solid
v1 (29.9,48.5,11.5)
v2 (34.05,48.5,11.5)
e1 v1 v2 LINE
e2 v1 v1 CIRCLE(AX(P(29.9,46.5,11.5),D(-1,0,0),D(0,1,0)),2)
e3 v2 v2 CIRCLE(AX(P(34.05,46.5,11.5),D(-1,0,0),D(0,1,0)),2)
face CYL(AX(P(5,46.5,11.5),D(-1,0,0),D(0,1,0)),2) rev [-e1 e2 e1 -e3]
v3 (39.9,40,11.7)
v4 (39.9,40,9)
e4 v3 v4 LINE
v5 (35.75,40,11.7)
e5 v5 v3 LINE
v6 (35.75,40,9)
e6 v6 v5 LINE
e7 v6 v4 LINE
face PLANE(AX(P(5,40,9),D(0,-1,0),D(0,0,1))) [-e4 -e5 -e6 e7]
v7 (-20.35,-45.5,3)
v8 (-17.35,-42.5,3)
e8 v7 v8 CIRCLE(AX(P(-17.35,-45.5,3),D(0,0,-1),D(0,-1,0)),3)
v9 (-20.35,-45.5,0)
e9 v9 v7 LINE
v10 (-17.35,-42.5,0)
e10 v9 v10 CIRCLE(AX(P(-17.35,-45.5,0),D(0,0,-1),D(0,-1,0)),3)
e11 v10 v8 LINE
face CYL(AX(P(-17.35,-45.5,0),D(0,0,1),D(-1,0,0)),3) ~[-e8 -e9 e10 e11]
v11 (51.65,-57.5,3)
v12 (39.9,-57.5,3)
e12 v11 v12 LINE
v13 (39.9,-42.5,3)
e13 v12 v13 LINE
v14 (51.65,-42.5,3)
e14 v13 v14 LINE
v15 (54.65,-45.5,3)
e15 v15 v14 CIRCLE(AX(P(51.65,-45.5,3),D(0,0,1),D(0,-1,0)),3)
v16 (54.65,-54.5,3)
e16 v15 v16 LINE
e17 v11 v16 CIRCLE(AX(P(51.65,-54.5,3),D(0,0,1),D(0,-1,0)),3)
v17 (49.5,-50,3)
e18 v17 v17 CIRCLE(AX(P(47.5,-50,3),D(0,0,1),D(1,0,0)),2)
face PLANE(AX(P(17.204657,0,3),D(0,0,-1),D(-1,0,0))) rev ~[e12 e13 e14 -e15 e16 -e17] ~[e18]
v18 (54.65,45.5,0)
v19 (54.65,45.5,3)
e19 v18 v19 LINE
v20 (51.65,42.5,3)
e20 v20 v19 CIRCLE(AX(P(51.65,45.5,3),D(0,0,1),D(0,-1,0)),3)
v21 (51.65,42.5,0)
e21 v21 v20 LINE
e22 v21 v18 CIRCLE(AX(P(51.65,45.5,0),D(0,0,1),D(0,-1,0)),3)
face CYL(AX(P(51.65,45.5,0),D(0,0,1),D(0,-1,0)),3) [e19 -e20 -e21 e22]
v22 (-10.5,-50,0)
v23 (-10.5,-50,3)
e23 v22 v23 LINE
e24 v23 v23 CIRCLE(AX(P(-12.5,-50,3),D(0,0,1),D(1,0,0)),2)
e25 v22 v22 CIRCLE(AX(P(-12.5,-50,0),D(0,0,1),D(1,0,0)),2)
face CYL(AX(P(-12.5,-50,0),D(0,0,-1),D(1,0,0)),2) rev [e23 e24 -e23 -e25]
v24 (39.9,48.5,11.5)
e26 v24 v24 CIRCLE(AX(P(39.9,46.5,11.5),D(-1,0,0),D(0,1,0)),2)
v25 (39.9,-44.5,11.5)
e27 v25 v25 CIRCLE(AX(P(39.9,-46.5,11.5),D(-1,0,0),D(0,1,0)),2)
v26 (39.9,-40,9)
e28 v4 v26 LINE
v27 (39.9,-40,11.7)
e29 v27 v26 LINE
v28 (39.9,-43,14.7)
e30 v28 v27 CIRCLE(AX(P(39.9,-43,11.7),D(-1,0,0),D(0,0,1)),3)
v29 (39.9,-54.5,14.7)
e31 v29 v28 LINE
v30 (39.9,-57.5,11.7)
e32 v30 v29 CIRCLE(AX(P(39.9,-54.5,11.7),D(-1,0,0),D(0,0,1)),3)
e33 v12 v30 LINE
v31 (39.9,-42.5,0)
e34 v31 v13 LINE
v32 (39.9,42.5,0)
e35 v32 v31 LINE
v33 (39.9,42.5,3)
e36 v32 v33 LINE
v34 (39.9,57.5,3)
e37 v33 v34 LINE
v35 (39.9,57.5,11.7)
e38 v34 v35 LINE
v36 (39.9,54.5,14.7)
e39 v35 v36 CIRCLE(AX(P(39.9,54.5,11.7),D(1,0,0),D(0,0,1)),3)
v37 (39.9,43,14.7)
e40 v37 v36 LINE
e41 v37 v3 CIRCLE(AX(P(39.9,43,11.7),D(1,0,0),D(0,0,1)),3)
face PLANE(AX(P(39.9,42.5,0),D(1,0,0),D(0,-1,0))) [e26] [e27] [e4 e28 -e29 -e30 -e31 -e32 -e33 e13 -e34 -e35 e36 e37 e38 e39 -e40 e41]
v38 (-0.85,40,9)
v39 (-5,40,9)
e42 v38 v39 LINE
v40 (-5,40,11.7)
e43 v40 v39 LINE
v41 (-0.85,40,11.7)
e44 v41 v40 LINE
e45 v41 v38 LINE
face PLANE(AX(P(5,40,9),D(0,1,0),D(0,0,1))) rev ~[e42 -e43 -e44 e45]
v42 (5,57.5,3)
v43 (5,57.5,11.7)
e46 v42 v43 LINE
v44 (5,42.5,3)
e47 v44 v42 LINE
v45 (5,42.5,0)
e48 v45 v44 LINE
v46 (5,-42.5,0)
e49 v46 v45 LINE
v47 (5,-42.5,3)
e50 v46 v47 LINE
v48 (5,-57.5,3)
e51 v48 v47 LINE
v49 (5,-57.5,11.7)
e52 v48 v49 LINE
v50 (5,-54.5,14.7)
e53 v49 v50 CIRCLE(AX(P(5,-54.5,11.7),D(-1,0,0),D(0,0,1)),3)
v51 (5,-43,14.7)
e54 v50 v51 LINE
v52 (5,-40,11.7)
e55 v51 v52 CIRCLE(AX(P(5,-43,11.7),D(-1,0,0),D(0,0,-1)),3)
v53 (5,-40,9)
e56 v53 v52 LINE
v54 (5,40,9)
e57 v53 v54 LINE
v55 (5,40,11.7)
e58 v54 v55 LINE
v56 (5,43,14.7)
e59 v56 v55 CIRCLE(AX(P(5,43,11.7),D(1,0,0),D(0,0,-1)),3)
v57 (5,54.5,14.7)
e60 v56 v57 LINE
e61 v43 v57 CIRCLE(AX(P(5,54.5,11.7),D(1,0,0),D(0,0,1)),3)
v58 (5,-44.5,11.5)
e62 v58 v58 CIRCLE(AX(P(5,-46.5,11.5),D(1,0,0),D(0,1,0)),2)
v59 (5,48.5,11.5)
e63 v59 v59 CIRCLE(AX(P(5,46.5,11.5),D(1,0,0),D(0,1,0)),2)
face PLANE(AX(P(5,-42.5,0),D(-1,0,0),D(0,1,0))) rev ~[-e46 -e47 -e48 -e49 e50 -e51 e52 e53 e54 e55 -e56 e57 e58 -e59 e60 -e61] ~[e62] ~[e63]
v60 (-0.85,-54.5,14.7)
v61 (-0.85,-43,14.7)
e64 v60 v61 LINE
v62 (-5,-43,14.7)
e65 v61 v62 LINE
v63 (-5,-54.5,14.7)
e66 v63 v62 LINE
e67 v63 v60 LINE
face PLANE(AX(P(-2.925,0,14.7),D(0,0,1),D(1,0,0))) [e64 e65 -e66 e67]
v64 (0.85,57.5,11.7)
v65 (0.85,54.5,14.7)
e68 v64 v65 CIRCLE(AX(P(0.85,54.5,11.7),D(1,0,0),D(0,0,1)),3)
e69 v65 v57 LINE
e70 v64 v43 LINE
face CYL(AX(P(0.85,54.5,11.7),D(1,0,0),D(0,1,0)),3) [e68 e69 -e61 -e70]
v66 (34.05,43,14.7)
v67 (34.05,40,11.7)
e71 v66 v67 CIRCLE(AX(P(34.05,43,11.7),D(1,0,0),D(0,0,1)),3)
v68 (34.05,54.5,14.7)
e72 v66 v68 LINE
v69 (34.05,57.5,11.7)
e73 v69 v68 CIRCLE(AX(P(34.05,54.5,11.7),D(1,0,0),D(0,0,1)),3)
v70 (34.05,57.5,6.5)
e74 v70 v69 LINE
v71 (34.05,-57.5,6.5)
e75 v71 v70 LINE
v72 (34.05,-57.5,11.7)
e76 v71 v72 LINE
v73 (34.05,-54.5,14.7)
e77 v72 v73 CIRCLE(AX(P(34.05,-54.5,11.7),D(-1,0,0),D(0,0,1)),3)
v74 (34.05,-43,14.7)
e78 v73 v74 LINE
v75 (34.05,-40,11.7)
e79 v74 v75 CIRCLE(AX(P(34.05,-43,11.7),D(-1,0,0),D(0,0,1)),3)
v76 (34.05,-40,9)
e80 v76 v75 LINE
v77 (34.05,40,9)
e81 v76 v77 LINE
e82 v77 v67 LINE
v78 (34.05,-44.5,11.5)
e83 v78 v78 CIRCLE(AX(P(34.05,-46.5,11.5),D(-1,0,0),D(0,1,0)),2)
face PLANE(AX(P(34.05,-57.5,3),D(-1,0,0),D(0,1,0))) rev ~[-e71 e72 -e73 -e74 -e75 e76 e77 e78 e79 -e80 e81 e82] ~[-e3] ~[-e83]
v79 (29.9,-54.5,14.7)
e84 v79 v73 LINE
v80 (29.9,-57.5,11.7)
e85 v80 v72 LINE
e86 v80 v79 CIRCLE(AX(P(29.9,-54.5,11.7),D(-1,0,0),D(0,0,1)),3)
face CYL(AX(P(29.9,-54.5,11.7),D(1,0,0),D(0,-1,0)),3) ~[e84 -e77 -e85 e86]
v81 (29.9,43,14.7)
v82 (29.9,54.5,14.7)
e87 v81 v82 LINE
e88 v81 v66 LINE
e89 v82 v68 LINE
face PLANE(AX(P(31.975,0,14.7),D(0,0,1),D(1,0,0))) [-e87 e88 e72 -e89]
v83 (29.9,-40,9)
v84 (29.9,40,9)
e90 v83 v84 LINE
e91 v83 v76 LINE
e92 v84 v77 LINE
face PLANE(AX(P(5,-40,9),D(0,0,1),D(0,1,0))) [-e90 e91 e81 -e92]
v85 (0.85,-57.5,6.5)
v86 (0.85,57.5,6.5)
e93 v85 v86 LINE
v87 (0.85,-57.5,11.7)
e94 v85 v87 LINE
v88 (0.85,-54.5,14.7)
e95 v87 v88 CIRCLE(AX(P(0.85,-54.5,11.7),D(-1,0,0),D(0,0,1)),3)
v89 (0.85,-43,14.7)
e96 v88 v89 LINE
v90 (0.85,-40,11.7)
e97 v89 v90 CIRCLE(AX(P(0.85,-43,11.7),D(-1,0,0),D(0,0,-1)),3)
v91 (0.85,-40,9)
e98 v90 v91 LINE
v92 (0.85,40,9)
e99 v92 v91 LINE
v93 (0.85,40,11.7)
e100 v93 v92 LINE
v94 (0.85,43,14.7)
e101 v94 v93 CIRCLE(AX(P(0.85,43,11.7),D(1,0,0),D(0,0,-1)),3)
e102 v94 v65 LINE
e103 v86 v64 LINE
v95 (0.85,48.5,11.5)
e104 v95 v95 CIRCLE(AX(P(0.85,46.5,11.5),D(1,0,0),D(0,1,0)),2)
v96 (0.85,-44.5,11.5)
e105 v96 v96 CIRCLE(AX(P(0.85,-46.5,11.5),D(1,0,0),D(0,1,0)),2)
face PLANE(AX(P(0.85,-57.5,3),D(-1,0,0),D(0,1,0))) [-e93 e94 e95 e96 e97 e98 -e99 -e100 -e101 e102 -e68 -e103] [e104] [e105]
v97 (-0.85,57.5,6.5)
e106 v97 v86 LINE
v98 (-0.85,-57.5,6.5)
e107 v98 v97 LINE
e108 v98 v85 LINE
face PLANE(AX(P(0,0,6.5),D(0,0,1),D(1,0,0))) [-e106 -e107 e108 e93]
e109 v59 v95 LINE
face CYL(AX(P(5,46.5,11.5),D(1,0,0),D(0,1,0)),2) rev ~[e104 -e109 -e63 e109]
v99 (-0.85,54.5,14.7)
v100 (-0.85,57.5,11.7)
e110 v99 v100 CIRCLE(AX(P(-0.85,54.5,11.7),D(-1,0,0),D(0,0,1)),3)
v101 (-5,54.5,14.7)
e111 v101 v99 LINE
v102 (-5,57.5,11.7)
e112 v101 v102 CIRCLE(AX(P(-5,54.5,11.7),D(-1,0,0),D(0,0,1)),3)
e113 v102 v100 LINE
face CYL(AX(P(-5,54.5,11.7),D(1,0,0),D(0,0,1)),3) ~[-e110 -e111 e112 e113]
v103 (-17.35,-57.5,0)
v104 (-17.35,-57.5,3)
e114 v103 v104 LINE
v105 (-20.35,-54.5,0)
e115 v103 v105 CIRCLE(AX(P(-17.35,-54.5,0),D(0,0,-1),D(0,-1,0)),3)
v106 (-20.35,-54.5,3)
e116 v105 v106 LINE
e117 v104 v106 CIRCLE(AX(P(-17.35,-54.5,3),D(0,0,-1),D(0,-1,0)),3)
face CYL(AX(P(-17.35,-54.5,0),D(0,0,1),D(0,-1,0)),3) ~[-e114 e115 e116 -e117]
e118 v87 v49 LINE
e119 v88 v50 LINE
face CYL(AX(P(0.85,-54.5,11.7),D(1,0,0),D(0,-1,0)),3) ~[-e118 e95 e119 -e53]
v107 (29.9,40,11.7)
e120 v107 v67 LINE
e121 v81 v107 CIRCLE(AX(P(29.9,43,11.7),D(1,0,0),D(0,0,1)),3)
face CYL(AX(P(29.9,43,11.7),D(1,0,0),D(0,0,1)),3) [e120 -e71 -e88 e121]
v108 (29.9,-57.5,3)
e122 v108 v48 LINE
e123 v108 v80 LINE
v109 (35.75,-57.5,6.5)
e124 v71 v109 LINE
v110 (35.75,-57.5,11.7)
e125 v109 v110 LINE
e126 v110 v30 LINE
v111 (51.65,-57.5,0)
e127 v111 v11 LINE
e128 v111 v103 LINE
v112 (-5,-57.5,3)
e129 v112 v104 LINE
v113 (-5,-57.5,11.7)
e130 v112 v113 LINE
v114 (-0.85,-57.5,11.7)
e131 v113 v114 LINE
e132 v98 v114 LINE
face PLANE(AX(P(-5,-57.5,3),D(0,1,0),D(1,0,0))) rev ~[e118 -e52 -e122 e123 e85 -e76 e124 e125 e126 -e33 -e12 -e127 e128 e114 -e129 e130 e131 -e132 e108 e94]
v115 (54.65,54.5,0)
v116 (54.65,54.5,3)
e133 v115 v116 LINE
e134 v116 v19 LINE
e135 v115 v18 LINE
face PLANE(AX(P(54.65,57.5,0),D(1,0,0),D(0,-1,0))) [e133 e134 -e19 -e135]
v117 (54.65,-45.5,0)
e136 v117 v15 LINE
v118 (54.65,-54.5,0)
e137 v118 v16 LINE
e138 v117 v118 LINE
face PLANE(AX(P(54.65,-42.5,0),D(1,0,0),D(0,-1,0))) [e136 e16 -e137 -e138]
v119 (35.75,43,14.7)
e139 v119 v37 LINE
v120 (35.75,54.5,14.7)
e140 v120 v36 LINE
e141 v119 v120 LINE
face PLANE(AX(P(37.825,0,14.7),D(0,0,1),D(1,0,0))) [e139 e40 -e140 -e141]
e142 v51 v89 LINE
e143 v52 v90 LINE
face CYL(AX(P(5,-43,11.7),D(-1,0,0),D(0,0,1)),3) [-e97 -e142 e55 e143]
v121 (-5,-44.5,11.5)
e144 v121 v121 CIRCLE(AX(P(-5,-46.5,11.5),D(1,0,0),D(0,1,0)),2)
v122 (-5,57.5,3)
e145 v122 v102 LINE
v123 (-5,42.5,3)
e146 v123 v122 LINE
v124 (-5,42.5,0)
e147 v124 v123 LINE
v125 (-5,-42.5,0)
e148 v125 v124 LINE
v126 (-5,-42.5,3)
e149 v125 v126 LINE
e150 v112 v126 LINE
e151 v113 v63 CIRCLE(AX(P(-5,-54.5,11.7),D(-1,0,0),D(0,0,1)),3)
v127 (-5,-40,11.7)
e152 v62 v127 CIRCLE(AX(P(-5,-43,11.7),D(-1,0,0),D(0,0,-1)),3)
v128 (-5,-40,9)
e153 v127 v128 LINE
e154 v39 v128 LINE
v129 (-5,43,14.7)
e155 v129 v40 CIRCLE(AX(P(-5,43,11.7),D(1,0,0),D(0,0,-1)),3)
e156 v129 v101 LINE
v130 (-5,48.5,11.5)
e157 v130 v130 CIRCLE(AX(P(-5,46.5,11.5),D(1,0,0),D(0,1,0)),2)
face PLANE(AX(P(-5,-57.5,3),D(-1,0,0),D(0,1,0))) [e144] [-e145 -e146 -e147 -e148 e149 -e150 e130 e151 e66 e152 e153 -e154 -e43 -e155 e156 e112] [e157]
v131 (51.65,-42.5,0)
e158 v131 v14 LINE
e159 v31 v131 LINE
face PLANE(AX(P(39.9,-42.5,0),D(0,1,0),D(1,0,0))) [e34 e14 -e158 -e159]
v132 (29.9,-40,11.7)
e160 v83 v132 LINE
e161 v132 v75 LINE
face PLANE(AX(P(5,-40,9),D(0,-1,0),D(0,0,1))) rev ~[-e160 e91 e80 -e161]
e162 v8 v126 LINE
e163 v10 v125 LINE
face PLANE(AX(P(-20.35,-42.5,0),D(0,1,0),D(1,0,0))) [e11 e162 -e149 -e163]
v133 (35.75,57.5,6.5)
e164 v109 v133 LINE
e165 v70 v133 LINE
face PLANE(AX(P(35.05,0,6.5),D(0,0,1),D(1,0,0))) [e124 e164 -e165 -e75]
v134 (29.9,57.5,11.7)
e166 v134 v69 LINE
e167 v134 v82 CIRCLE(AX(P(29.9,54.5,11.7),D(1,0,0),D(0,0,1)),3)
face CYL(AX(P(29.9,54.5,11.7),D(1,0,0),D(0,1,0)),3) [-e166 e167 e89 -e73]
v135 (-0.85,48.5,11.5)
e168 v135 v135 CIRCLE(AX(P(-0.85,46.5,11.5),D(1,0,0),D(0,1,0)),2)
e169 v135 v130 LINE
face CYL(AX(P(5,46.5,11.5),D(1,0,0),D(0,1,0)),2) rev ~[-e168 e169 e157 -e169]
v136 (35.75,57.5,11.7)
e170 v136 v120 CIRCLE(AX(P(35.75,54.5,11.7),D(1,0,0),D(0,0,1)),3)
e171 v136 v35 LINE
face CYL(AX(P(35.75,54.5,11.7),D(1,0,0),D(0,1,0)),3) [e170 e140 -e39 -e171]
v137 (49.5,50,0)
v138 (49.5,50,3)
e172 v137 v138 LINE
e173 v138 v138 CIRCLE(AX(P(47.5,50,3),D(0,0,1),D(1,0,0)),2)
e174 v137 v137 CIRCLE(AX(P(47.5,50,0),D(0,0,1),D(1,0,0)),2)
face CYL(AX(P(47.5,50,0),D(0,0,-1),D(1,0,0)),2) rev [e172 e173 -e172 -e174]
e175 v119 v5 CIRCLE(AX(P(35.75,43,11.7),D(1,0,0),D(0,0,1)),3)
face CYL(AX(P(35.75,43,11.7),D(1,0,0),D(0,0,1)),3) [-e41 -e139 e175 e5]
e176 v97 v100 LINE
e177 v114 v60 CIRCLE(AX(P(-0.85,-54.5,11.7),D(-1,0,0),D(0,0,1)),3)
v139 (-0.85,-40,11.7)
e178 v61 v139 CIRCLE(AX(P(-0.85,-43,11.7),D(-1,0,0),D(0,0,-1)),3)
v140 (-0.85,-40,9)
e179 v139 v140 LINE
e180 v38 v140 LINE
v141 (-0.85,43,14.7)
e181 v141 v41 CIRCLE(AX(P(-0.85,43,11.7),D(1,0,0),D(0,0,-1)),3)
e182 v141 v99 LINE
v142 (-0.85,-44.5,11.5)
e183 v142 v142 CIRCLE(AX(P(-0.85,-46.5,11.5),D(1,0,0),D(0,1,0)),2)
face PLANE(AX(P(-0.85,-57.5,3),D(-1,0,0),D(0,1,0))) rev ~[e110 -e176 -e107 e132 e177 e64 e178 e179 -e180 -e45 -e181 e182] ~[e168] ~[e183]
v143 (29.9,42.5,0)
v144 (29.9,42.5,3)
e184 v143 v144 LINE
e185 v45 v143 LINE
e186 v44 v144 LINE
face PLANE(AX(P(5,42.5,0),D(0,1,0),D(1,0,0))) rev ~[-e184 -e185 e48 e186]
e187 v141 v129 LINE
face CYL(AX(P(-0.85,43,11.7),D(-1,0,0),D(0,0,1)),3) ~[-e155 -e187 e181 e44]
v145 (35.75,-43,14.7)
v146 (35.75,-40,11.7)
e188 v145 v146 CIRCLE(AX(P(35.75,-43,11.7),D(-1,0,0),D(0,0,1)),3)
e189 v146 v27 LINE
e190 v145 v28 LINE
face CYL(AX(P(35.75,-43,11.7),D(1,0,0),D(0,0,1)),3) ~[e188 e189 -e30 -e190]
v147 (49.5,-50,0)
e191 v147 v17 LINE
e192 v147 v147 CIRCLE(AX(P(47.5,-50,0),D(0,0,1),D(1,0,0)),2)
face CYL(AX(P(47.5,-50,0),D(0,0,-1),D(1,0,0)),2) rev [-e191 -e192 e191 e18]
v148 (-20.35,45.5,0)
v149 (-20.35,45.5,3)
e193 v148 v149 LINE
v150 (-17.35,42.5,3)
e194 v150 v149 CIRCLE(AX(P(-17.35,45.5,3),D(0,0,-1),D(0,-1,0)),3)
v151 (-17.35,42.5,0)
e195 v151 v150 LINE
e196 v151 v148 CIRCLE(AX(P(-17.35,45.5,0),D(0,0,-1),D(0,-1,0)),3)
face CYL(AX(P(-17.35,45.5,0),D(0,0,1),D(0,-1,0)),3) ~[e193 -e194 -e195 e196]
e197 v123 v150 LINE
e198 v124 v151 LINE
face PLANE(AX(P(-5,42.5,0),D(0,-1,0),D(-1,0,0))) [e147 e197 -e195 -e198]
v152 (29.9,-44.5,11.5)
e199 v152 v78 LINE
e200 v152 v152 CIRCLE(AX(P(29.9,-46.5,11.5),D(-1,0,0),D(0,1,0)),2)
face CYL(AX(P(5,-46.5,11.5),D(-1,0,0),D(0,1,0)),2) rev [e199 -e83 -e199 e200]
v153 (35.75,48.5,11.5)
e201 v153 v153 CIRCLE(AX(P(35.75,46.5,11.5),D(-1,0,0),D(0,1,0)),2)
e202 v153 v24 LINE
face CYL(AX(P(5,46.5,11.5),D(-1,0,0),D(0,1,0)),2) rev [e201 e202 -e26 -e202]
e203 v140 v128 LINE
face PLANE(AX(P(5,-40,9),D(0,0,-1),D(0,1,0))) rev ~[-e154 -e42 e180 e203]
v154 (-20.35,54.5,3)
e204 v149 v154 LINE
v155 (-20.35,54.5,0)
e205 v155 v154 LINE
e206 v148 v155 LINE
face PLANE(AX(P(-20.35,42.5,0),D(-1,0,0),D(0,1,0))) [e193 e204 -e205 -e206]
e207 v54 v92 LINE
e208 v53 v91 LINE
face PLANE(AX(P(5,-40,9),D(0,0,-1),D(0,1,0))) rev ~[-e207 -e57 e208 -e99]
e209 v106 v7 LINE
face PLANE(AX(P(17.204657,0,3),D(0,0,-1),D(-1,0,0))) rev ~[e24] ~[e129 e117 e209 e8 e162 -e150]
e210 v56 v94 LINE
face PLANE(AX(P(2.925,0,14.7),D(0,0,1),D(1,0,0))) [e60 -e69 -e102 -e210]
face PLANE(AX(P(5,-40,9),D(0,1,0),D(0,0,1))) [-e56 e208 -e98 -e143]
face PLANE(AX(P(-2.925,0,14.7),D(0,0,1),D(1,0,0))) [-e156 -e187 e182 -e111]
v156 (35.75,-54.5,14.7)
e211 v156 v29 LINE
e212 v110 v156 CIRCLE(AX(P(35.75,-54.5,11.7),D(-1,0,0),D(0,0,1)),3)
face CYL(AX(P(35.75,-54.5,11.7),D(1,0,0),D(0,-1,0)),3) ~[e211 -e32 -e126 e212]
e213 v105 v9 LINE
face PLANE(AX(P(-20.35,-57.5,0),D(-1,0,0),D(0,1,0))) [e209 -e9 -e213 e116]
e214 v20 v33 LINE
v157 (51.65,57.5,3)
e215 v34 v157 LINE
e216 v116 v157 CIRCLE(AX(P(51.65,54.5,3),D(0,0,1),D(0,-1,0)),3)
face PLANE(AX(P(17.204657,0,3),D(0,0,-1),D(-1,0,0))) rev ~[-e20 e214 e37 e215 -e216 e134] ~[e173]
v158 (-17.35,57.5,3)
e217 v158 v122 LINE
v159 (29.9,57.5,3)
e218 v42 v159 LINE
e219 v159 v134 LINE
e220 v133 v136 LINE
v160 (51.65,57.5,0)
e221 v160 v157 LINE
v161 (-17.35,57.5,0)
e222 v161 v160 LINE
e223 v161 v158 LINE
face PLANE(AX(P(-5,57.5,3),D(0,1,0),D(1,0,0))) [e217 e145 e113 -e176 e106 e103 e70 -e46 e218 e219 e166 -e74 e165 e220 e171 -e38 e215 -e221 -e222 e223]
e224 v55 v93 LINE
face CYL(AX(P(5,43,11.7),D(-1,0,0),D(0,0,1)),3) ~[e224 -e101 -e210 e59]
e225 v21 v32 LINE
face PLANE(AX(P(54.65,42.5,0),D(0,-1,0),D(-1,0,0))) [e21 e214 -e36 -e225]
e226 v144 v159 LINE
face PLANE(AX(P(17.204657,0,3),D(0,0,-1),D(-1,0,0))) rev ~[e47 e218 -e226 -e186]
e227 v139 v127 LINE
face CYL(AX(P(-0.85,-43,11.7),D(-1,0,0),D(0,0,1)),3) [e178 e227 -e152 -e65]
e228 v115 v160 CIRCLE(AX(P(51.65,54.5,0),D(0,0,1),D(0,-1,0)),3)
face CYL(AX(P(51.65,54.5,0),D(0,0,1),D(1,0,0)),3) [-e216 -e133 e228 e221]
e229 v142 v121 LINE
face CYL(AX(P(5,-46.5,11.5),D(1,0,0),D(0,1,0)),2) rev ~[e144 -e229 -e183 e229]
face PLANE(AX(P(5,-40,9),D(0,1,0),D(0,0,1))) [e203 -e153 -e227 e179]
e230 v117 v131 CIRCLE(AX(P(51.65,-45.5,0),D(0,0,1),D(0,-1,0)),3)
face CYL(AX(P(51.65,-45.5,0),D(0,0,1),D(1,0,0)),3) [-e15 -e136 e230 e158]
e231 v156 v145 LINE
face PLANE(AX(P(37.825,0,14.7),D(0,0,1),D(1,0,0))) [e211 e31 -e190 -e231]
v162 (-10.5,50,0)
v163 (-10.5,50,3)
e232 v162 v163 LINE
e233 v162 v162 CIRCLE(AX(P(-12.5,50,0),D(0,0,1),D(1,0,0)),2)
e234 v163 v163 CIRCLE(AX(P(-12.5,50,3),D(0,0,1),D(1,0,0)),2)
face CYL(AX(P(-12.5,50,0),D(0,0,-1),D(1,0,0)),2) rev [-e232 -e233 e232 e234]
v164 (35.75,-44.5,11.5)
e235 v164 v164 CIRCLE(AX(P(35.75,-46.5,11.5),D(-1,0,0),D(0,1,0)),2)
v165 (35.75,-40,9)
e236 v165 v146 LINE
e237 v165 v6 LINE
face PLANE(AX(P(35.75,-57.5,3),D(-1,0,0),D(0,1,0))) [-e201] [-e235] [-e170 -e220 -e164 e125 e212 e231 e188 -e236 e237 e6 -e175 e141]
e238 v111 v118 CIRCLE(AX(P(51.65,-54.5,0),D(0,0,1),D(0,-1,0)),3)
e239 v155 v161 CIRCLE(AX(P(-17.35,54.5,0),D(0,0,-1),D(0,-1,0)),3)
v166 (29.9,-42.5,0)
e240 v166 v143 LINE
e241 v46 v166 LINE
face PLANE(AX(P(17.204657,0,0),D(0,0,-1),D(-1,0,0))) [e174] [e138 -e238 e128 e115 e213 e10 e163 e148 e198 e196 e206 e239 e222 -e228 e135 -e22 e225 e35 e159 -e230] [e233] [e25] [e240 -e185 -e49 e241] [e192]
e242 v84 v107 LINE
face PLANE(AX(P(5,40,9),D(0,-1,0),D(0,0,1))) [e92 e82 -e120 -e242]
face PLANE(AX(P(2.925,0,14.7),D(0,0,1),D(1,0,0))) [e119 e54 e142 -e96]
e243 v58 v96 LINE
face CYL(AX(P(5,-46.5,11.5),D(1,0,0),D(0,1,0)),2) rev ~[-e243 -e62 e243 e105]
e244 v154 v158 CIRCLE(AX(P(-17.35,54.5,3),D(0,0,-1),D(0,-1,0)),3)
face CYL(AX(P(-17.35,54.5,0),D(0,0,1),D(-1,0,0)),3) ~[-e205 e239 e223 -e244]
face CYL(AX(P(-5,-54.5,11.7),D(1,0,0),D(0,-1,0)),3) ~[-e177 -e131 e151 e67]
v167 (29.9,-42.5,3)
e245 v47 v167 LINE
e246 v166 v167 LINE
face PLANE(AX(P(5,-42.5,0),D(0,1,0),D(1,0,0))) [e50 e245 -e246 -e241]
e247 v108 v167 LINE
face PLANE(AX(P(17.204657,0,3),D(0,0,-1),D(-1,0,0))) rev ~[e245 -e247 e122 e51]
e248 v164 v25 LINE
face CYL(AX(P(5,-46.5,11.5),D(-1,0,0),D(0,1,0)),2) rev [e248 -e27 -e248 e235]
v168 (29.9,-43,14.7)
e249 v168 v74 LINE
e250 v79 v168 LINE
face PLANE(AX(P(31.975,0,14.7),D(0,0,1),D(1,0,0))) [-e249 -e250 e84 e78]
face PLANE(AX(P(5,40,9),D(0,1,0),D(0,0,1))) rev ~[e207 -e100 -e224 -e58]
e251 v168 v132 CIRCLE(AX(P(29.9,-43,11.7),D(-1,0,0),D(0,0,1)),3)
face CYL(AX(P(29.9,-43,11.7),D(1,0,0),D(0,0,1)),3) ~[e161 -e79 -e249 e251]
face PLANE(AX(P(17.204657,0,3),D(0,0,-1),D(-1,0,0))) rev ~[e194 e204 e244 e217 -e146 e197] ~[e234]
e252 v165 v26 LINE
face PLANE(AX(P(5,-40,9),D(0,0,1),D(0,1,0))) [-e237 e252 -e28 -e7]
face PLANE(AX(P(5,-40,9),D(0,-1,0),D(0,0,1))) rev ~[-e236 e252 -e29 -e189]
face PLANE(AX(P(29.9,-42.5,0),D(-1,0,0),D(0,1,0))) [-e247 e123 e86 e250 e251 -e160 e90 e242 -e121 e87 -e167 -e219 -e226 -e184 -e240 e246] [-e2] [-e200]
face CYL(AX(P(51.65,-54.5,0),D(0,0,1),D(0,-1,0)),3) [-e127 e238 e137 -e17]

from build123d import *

# Parameters (mm, degrees)
SKETCH_R          = 2
SKETCH_W          = 24.9
SKETCH_H          = 85
PAD_DEPTH         = 3
SKETCH001_W       = 4.15
SKETCH001_H       = 115
PAD001_DEPTH      = 11.7
SKETCH002_R       = 2
SKETCH002_W       = 80
SKETCH002_H       = 6
POCKET_DEPTH      = 50
POCKET_DEPTH_BACK = -100
SKETCH003_W       = 4
SKETCH003_H       = 115
PAD002_DEPTH      = 3.5
FILLET_R          = 3
FILLET001_R       = 3
FILLET002_R       = 3
FILLET003_R       = 3
FILLET004_R       = 3
FILLET005_R       = 3
FILLET006_R       = 3
FILLET007_R       = 3
FILLET008_R       = 3
FILLET009_R       = 3
FILLET010_R       = 3
FILLET011_R       = 3
FILLET012_R       = 3
FILLET013_R       = 3
FILLET014_R       = 3
FILLET015_R       = 3
FILLET016_R       = 3
FILLET017_R       = 3
FILLET018_R       = 3
FILLET019_R       = 3
FILLET020_R       = 3
FILLET021_R       = 3
FILLET022_R       = 3
FILLET023_R       = 3


with BuildPart() as part:
    # Sketch → Pad (new body)
    with BuildSketch(Plane.XY):
        Polygon((54.65, -57.5), (-20.35, -57.5), (-20.35, -42.5), (-5, -42.5), (-5, 42.5), (-20.35, 42.5), (-20.35, 57.5), (54.65, 57.5), (54.65, 42.5), (39.9, 42.5), (39.9, -42.5), (54.65, -42.5), align=None)
        with Locations((-12.5, 50)):
            Circle(SKETCH_R, mode=Mode.SUBTRACT)
        with Locations((47.5, 50)):
            Circle(SKETCH_R, mode=Mode.SUBTRACT)
        with Locations((-12.5, -50)):
            Circle(SKETCH_R, mode=Mode.SUBTRACT)
        with Locations((47.5, -50)):
            Circle(SKETCH_R, mode=Mode.SUBTRACT)
        with Locations((17.45, 0)):
            Rectangle(SKETCH_W, SKETCH_H, mode=Mode.SUBTRACT)
    extrude(amount=PAD_DEPTH)

    # Sketch001 → Pad001 (join)
    with BuildSketch(Plane.XY.offset(3)):
        with Locations((-2.925, 0)):
            Rectangle(SKETCH001_W, SKETCH001_H)
        with Locations((2.925, 0)):
            Rectangle(SKETCH001_W, SKETCH001_H)
        with Locations((31.975, 0)):
            Rectangle(SKETCH001_W, SKETCH001_H)
        with Locations((37.825, 0)):
            Rectangle(SKETCH001_W, SKETCH001_H)
    extrude(amount=PAD001_DEPTH)

    # Sketch002 → Pocket (cut, two sides)
    with BuildSketch(Plane.YZ.offset(5)) as pocket_sk:
        with Locations((-46.5, 11.5)):
            Circle(SKETCH002_R)
        with Locations((46.5, 11.5)):
            Circle(SKETCH002_R)
        with Locations((0, 12)):
            Rectangle(SKETCH002_W, SKETCH002_H)
    extrude(amount=-POCKET_DEPTH, mode=Mode.SUBTRACT)
    extrude(pocket_sk.sketch, amount=-POCKET_DEPTH_BACK, mode=Mode.SUBTRACT)

    # Sketch003 → Pad002 (join)
    with BuildSketch(Plane.XY.offset(3)):
        Rectangle(SKETCH003_W, SKETCH003_H)
        with Locations((35.05, 0)):
            Rectangle(SKETCH003_W, SKETCH003_H)
    extrude(amount=PAD002_DEPTH)

    # Fillet
    fillet_edges = [part.edges().sort_by_distance(p)[0] for p in [
        (-2.925, -57.5, 14.7),
    ]]
    fillet(fillet_edges, radius=FILLET_R)

    # Fillet001
    fillet001_edges = [part.edges().sort_by_distance(p)[0] for p in [
        (2.925, -57.5, 14.7),
    ]]
    fillet(fillet001_edges, radius=FILLET001_R)

    # Fillet002
    fillet002_edges = [part.edges().sort_by_distance(p)[0] for p in [
        (31.975, -57.5, 14.7),
    ]]
    fillet(fillet002_edges, radius=FILLET002_R)

    # Fillet003
    fillet003_edges = [part.edges().sort_by_distance(p)[0] for p in [
        (37.825, -57.5, 14.7),
    ]]
    fillet(fillet003_edges, radius=FILLET003_R)

    # Fillet004
    fillet004_edges = [part.edges().sort_by_distance(p)[0] for p in [
        (37.825, -40, 14.7),
    ]]
    fillet(fillet004_edges, radius=FILLET004_R)

    # Fillet005
    fillet005_edges = [part.edges().sort_by_distance(p)[0] for p in [
        (31.975, -40, 14.7),
    ]]
    fillet(fillet005_edges, radius=FILLET005_R)

    # Fillet006
    fillet006_edges = [part.edges().sort_by_distance(p)[0] for p in [
        (-2.925, -40, 14.7),
    ]]
    fillet(fillet006_edges, radius=FILLET006_R)

    # Fillet007
    fillet007_edges = [part.edges().sort_by_distance(p)[0] for p in [
        (2.925, -40, 14.7),
    ]]
    fillet(fillet007_edges, radius=FILLET007_R)

    # Fillet008
    fillet008_edges = [part.edges().sort_by_distance(p)[0] for p in [
        (54.65, -57.5, 1.5),
    ]]
    fillet(fillet008_edges, radius=FILLET008_R)

    # Fillet009
    fillet009_edges = [part.edges().sort_by_distance(p)[0] for p in [
        (54.65, -42.5, 1.5),
    ]]
    fillet(fillet009_edges, radius=FILLET009_R)

    # Fillet010
    fillet010_edges = [part.edges().sort_by_distance(p)[0] for p in [
        (54.65, 42.5, 1.5),
    ]]
    fillet(fillet010_edges, radius=FILLET010_R)

    # Fillet011
    fillet011_edges = [part.edges().sort_by_distance(p)[0] for p in [
        (54.65, 57.5, 1.5),
    ]]
    fillet(fillet011_edges, radius=FILLET011_R)

    # Fillet012
    fillet012_edges = [part.edges().sort_by_distance(p)[0] for p in [
        (37.825, 40, 14.7),
    ]]
    fillet(fillet012_edges, radius=FILLET012_R)

    # Fillet013
    fillet013_edges = [part.edges().sort_by_distance(p)[0] for p in [
        (31.975, 40, 14.7),
    ]]
    fillet(fillet013_edges, radius=FILLET013_R)

    # Fillet014
    fillet014_edges = [part.edges().sort_by_distance(p)[0] for p in [
        (37.825, 57.5, 14.7),
    ]]
    fillet(fillet014_edges, radius=FILLET014_R)

    # Fillet015
    fillet015_edges = [part.edges().sort_by_distance(p)[0] for p in [
        (31.975, 57.5, 14.7),
    ]]
    fillet(fillet015_edges, radius=FILLET015_R)

    # Fillet016
    fillet016_edges = [part.edges().sort_by_distance(p)[0] for p in [
        (2.925, 40, 14.7),
    ]]
    fillet(fillet016_edges, radius=FILLET016_R)

    # Fillet017
    fillet017_edges = [part.edges().sort_by_distance(p)[0] for p in [
        (-2.925, 40, 14.7),
    ]]
    fillet(fillet017_edges, radius=FILLET017_R)

    # Fillet018
    fillet018_edges = [part.edges().sort_by_distance(p)[0] for p in [
        (-2.925, 57.5, 14.7),
    ]]
    fillet(fillet018_edges, radius=FILLET018_R)

    # Fillet019
    fillet019_edges = [part.edges().sort_by_distance(p)[0] for p in [
        (2.925, 57.5, 14.7),
    ]]
    fillet(fillet019_edges, radius=FILLET019_R)

    # Fillet020
    fillet020_edges = [part.edges().sort_by_distance(p)[0] for p in [
        (-20.35, -57.5, 1.5),
    ]]
    fillet(fillet020_edges, radius=FILLET020_R)

    # Fillet021
    fillet021_edges = [part.edges().sort_by_distance(p)[0] for p in [
        (-20.35, -42.5, 1.5),
    ]]
    fillet(fillet021_edges, radius=FILLET021_R)

    # Fillet022
    fillet022_edges = [part.edges().sort_by_distance(p)[0] for p in [
        (-20.35, 42.5, 1.5),
    ]]
    fillet(fillet022_edges, radius=FILLET022_R)

    # Fillet023
    fillet023_edges = [part.edges().sort_by_distance(p)[0] for p in [
        (-20.35, 57.5, 1.5),
    ]]
    fillet(fillet023_edges, radius=FILLET023_R)


solid = part.part
